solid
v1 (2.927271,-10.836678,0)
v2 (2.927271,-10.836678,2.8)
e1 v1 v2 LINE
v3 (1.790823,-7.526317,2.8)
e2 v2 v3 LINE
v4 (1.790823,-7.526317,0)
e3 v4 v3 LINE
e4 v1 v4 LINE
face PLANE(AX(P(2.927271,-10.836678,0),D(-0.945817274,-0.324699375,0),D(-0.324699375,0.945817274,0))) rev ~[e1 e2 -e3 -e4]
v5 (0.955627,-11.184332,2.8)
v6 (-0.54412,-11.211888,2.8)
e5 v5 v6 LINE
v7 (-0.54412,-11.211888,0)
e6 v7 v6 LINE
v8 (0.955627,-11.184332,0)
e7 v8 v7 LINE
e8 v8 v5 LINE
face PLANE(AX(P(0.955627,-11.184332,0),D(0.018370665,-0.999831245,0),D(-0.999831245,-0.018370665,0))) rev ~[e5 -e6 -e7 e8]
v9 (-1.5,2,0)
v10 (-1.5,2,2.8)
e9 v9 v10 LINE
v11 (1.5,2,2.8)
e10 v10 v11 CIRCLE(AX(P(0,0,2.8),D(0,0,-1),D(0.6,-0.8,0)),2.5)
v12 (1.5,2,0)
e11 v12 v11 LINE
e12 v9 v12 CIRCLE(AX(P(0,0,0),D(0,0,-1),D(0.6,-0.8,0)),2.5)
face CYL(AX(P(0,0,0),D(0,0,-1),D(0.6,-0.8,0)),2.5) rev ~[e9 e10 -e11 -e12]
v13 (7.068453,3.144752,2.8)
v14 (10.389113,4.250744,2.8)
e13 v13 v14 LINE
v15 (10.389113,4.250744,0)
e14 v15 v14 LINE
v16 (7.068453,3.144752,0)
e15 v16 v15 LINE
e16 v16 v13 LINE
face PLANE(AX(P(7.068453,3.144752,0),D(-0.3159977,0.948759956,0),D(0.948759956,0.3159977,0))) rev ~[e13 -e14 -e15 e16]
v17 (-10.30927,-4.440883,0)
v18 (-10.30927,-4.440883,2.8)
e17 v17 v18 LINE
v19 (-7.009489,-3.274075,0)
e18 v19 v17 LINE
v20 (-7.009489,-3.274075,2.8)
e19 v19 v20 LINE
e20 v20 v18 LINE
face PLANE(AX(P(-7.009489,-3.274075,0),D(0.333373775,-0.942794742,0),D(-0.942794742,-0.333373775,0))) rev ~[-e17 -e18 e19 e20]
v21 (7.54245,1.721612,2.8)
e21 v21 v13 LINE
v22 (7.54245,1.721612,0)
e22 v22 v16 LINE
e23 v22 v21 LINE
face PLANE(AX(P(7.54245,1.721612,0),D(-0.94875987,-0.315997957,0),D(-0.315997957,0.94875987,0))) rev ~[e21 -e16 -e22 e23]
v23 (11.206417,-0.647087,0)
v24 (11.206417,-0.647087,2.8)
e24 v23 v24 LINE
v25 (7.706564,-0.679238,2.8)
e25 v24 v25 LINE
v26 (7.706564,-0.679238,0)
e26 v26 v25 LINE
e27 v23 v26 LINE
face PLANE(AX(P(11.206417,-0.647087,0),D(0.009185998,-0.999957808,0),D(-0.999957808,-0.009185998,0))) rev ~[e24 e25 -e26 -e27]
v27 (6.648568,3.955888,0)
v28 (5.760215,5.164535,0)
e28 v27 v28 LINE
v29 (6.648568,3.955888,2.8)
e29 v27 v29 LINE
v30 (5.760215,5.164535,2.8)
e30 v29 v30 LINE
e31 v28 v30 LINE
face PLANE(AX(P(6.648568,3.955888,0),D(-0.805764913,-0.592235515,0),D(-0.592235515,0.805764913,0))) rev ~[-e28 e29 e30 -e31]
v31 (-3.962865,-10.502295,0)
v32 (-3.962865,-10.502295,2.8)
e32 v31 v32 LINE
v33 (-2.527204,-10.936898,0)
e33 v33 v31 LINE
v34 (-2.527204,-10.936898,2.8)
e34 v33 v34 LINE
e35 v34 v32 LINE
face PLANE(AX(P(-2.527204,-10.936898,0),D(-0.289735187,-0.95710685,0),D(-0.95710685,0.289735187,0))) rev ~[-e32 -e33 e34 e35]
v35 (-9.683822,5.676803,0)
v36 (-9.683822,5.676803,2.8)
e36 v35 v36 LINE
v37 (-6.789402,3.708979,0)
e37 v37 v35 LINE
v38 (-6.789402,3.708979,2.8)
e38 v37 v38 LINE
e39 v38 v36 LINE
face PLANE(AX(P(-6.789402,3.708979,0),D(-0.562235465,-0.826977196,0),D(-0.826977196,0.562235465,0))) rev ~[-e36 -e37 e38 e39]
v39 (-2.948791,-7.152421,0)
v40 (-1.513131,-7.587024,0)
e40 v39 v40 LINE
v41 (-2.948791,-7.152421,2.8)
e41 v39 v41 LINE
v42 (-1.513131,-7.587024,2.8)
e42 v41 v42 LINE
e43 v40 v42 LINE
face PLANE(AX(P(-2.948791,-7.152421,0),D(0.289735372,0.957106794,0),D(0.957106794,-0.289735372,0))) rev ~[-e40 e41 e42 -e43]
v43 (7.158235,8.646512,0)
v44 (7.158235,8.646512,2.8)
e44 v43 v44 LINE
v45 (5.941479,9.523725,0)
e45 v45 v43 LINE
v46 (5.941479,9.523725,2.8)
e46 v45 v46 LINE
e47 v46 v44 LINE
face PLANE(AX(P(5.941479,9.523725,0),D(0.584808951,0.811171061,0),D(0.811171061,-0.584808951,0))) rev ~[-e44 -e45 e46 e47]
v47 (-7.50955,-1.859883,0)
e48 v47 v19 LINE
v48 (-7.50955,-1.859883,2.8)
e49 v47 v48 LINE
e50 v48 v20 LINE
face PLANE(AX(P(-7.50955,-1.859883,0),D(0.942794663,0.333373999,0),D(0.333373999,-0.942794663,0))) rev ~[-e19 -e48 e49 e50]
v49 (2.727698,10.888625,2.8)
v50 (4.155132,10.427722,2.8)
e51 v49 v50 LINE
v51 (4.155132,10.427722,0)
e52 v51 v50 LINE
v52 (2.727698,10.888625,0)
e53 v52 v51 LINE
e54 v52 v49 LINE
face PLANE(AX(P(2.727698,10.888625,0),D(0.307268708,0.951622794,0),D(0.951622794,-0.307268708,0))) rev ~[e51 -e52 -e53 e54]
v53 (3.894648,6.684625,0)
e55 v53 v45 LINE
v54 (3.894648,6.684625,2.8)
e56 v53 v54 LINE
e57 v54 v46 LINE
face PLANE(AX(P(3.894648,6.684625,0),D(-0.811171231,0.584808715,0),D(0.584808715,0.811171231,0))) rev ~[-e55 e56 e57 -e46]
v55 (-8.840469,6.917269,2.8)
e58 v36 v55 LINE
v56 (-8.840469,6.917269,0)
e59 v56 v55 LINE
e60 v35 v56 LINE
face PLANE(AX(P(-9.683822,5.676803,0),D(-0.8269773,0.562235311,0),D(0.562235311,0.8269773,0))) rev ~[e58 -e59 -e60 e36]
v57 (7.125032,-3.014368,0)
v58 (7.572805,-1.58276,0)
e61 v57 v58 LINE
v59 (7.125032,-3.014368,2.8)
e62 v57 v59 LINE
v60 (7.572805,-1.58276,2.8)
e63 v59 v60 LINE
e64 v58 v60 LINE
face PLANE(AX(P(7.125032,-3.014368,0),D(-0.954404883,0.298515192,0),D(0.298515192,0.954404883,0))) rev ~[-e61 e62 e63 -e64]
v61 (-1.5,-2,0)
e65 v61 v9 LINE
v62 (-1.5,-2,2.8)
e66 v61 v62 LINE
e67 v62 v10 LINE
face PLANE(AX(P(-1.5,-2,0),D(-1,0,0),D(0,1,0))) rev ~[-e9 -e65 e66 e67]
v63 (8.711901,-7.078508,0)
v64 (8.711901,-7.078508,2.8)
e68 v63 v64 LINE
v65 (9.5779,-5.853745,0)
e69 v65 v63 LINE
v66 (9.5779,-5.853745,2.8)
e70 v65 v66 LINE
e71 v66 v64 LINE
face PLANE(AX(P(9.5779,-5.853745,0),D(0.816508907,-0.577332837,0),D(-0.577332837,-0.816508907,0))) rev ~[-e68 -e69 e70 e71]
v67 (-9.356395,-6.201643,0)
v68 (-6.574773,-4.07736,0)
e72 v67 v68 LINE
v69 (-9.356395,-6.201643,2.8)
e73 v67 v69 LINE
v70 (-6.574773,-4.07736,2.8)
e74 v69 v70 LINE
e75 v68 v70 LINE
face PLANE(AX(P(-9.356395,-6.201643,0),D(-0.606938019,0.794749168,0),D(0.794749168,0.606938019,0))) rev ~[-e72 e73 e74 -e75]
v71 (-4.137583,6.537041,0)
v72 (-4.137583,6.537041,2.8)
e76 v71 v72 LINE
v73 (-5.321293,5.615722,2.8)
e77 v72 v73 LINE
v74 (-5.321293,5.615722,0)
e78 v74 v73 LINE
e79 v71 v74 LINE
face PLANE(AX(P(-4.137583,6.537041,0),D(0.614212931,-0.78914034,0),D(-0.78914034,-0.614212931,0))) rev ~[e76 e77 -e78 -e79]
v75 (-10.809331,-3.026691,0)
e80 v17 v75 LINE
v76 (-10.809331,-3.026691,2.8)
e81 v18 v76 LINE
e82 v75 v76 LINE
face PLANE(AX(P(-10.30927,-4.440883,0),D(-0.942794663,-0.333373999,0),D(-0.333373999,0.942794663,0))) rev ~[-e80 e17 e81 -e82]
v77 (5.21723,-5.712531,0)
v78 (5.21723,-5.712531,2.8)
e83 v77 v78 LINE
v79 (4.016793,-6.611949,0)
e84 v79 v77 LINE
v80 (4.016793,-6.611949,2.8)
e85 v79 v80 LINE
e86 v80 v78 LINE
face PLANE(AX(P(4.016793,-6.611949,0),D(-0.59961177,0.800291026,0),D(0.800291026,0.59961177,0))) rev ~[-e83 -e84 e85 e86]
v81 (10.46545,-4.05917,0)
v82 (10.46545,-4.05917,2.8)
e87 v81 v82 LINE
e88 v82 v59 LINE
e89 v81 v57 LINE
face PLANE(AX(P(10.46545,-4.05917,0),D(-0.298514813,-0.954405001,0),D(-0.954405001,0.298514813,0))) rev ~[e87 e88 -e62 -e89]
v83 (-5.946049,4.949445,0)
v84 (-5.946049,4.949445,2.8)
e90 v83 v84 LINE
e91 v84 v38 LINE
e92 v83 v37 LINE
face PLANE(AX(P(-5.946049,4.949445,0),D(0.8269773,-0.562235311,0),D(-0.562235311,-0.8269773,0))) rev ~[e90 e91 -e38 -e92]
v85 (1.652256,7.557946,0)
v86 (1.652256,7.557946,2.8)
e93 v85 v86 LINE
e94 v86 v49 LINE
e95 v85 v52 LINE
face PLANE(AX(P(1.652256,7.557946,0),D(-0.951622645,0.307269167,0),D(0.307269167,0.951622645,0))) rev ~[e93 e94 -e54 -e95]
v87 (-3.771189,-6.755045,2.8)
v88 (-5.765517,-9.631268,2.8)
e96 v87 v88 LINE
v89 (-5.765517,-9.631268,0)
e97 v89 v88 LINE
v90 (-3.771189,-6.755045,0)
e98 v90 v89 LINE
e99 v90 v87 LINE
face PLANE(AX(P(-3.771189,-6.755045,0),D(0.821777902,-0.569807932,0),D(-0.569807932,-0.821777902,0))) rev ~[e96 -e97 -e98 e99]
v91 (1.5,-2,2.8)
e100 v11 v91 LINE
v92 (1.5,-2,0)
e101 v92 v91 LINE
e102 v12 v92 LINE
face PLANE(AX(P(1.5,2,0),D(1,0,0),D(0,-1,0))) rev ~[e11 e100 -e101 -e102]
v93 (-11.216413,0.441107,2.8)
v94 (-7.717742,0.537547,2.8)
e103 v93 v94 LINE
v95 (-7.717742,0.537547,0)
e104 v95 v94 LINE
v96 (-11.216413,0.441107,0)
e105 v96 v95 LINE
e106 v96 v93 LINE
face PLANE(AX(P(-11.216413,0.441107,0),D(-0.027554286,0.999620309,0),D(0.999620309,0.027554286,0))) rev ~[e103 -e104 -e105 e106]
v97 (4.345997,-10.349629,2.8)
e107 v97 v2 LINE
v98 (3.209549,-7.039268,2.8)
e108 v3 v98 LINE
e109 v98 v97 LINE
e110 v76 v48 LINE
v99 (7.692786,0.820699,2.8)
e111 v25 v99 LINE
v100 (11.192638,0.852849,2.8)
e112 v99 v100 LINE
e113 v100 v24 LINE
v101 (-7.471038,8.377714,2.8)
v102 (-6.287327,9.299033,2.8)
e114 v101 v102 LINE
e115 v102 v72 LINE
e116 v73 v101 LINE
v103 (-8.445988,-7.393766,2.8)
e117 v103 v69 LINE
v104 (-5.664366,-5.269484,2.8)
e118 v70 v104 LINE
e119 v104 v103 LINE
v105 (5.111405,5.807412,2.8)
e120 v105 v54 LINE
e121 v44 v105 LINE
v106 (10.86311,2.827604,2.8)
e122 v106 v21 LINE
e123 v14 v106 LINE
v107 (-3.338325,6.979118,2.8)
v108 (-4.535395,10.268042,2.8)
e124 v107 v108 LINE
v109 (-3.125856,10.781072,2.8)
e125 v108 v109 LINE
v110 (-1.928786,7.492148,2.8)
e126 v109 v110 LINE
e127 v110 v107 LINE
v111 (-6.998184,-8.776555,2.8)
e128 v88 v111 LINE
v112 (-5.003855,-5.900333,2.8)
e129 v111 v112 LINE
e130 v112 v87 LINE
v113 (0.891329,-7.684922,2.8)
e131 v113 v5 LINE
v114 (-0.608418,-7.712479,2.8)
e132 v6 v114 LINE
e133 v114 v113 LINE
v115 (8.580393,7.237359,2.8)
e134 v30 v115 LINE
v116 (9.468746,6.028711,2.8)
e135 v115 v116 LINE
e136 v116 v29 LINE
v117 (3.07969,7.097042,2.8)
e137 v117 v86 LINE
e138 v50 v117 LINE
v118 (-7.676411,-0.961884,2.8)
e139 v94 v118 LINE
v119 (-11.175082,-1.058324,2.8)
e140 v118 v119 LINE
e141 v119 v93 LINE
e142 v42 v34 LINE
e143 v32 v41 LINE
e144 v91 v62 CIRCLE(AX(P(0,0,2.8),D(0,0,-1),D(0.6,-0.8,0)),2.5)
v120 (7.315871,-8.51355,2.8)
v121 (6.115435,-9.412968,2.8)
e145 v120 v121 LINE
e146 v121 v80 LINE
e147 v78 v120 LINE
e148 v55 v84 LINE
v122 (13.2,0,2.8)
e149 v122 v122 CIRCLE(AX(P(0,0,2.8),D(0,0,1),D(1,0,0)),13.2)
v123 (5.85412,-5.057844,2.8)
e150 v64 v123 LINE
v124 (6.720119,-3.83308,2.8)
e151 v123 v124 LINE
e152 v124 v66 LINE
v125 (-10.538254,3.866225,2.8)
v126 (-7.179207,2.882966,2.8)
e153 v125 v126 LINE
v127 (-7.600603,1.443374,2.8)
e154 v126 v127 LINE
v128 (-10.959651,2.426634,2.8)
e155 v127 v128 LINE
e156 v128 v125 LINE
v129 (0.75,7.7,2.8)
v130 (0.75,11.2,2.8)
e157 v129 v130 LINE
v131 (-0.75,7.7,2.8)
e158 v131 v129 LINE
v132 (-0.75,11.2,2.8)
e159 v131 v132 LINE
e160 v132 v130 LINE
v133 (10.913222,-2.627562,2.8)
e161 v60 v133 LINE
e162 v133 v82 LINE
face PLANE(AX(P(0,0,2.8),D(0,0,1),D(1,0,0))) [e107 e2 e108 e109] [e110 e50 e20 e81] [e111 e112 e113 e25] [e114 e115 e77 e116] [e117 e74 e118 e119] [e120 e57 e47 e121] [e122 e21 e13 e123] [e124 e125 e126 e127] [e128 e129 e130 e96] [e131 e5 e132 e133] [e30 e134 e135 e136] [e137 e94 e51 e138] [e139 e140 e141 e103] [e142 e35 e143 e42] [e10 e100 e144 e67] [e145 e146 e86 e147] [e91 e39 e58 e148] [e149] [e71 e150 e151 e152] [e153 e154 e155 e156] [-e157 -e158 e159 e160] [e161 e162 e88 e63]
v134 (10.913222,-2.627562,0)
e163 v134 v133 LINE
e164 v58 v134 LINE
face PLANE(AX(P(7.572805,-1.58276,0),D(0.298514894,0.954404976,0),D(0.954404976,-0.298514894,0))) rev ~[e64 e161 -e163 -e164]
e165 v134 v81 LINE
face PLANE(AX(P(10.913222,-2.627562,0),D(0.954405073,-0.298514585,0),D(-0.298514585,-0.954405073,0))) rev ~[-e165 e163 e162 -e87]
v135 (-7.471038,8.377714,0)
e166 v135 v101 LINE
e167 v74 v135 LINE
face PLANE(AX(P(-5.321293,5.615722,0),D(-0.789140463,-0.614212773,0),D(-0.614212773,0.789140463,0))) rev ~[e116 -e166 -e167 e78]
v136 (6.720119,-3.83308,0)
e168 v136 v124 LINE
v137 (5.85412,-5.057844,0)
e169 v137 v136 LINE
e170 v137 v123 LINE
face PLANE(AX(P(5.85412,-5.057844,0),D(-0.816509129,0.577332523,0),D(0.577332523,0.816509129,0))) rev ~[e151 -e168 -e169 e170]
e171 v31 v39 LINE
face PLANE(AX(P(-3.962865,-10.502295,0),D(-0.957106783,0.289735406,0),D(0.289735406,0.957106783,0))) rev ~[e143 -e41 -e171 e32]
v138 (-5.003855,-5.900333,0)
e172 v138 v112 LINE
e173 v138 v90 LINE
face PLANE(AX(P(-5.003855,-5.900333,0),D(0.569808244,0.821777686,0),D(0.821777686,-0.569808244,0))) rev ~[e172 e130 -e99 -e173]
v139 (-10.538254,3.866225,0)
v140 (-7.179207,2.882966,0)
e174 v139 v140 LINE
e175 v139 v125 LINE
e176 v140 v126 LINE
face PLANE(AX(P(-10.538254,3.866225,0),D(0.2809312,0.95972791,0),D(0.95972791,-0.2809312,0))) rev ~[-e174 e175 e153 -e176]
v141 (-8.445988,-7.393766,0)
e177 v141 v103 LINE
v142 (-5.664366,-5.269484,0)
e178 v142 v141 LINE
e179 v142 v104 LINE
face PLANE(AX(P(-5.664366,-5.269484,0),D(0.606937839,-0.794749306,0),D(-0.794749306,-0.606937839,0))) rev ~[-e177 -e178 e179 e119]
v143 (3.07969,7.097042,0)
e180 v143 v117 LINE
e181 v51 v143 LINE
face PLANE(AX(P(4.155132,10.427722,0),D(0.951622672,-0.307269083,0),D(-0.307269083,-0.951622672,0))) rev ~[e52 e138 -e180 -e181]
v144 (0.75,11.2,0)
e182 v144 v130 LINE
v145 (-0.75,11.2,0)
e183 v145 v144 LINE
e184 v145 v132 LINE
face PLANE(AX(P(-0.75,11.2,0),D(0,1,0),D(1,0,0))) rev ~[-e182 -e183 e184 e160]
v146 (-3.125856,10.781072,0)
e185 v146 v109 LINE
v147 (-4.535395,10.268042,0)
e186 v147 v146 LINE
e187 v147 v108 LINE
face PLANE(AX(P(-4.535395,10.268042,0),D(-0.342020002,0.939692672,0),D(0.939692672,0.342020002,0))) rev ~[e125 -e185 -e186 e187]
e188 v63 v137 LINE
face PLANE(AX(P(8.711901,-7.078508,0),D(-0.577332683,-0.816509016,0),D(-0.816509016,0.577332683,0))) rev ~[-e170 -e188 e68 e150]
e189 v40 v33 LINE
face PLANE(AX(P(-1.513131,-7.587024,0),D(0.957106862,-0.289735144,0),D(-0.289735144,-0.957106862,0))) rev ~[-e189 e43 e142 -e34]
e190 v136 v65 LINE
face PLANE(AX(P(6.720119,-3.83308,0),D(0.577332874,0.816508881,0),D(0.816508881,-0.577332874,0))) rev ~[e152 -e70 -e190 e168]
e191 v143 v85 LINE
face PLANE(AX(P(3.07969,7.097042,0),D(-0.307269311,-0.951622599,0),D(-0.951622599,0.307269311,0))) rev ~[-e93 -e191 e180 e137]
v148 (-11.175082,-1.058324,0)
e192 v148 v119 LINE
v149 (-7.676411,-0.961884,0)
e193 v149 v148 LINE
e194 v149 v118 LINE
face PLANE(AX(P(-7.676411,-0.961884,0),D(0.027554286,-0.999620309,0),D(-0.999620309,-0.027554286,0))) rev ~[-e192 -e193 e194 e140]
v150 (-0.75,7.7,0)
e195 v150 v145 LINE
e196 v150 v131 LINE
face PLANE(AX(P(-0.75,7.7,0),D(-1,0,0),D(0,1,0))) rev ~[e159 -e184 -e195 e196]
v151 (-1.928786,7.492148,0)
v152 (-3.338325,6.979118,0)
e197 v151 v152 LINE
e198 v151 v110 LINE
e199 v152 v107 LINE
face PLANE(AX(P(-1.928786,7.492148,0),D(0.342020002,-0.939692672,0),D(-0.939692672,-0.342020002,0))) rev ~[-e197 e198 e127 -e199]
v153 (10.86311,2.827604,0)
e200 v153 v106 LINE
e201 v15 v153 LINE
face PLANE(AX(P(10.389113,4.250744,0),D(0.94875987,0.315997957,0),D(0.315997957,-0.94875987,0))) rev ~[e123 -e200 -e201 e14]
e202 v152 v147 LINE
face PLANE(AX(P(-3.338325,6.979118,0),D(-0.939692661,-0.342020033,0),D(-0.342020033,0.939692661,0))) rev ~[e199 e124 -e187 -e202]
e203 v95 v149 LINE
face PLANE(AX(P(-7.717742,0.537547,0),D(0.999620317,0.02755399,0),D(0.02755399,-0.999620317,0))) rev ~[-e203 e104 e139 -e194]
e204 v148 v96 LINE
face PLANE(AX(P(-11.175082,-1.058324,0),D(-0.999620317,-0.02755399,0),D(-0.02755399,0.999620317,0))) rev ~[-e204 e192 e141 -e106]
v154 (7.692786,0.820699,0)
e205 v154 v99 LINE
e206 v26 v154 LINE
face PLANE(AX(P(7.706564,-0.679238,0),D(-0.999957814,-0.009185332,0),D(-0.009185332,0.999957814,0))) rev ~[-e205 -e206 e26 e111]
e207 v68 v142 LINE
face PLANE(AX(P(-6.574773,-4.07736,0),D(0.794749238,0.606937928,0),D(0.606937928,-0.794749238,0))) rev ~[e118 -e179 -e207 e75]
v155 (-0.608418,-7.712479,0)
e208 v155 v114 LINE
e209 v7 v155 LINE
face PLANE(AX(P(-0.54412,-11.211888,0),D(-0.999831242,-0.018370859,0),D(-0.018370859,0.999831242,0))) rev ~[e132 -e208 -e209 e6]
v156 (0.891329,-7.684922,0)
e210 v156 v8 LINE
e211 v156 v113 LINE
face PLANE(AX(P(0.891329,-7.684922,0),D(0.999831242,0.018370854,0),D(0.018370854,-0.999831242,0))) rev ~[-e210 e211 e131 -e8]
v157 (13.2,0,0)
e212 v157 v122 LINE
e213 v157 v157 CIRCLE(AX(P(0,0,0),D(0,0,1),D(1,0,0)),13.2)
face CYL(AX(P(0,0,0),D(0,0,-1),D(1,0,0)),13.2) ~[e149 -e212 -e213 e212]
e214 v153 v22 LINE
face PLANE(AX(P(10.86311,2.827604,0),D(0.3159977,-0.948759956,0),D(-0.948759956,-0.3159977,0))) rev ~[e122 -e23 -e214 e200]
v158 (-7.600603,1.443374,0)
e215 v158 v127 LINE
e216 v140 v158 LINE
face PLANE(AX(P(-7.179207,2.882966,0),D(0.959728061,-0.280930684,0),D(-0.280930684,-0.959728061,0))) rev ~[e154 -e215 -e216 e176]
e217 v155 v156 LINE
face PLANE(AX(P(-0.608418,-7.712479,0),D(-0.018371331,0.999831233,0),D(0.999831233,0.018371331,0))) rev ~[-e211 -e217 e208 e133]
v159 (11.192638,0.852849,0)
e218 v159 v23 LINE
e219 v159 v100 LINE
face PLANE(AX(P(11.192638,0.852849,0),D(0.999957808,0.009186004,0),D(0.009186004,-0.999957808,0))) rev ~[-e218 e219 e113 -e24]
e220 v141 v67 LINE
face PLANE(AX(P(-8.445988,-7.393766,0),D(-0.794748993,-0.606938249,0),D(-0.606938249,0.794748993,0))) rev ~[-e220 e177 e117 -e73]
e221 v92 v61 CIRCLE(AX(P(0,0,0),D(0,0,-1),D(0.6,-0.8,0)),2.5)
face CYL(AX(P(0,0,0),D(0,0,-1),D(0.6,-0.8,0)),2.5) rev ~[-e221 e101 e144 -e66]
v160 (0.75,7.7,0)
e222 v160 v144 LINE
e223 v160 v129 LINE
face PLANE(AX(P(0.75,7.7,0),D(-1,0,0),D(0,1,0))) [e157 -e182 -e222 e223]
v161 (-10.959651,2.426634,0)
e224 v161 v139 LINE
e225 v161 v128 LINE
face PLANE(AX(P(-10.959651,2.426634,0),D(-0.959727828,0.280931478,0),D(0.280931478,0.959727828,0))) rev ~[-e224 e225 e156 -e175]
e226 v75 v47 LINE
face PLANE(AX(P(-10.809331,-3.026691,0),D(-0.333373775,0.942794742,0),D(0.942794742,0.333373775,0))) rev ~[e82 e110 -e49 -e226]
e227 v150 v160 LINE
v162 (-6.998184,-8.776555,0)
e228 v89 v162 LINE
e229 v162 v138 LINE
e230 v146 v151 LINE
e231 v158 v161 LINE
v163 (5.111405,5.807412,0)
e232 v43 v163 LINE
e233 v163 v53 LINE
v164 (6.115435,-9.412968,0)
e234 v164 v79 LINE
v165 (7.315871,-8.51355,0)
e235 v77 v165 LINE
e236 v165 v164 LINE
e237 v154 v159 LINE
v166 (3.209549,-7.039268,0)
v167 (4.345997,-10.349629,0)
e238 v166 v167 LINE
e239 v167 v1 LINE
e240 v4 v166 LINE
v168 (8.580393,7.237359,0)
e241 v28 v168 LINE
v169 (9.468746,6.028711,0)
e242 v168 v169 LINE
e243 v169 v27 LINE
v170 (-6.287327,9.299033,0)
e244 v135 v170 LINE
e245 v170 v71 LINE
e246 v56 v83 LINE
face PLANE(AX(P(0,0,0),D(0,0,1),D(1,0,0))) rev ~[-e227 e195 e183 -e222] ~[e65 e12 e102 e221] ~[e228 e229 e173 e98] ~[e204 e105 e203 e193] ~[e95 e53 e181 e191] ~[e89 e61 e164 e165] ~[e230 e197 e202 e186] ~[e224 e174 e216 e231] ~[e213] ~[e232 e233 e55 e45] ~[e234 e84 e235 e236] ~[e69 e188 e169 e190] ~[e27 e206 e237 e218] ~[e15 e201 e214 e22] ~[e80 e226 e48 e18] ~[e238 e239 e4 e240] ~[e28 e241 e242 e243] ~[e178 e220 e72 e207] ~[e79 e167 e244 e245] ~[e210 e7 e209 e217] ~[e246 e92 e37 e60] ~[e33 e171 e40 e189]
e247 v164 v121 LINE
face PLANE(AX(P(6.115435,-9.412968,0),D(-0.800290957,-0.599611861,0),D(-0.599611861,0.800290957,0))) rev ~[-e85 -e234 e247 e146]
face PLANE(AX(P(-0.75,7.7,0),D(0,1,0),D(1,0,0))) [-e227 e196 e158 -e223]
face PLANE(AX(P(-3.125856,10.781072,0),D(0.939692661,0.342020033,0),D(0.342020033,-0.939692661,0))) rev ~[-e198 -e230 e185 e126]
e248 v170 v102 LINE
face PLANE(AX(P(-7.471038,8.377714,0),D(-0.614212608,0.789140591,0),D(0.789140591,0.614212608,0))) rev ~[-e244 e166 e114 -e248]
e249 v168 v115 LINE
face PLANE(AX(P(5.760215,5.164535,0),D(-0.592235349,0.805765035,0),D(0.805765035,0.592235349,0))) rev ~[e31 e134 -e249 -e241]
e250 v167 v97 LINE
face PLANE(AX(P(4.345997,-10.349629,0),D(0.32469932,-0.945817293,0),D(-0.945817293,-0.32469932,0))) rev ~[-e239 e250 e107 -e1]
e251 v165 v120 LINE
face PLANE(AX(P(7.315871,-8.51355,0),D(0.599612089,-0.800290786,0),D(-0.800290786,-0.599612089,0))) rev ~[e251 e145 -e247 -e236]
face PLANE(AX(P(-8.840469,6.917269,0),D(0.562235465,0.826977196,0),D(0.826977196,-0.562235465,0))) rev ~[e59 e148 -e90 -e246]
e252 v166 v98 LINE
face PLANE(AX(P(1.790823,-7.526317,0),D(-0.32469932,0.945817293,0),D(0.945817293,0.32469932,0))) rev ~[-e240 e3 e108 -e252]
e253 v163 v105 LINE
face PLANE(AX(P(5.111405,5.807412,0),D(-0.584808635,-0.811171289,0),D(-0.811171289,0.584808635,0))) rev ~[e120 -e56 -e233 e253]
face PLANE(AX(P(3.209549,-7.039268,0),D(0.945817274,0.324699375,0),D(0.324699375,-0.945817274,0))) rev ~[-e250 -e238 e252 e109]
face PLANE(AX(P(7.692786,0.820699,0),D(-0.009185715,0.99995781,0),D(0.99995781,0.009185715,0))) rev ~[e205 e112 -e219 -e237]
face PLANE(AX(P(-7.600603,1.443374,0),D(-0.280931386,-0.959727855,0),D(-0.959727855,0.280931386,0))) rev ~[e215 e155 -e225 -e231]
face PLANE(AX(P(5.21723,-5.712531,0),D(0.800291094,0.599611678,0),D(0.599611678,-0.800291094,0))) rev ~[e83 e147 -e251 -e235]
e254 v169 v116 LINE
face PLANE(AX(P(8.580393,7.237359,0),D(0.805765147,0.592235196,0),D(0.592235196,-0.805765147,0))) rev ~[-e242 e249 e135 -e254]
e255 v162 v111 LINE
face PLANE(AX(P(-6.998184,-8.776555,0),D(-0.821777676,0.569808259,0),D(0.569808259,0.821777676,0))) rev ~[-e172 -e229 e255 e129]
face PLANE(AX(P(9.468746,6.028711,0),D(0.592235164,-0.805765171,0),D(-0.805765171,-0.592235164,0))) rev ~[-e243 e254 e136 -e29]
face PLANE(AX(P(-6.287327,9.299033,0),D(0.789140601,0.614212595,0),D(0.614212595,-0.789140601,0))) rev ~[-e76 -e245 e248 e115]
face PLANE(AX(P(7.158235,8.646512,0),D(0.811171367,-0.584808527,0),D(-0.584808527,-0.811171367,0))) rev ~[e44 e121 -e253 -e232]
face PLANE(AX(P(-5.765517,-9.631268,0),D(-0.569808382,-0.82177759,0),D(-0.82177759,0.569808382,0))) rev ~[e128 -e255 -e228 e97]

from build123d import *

# Parameters (mm, degrees)
F0_R     = 13.2
F0_W     = 1.5
F0_H     = 3.5
F1_DEPTH = 2.8


with BuildPart() as f1:
    # F0 (on Top) → F1 (new body)
    with BuildSketch(Plane.XY):
        Circle(F0_R)
        Polygon((-5.765517, -9.631268), (-6.998184, -8.776555), (-5.003855, -5.900333), (-3.771189, -6.755045), align=None, mode=Mode.SUBTRACT)
        Polygon((-2.527204, -10.936898), (-3.962865, -10.502295), (-2.948791, -7.152421), (-1.513131, -7.587024), align=None, mode=Mode.SUBTRACT)
        Polygon((-8.445988, -7.393766), (-9.356395, -6.201643), (-6.574773, -4.07736), (-5.664366, -5.269484), align=None, mode=Mode.SUBTRACT)
        Polygon((-10.30927, -4.440883), (-10.809331, -3.026691), (-7.50955, -1.859883), (-7.009489, -3.274075), align=None, mode=Mode.SUBTRACT)
        Polygon((-11.175082, -1.058324), (-11.216413, 0.441107), (-7.717742, 0.537547), (-7.676411, -0.961884), align=None, mode=Mode.SUBTRACT)
        Polygon((0.955627, -11.184332), (-0.54412, -11.211888), (-0.608418, -7.712479), (0.891329, -7.684922), align=None, mode=Mode.SUBTRACT)
        Polygon((4.345997, -10.349629), (2.927271, -10.836678), (1.790823, -7.526317), (3.209549, -7.039268), align=None, mode=Mode.SUBTRACT)
        Polygon((7.315871, -8.51355), (6.115435, -9.412968), (4.016793, -6.611949), (5.21723, -5.712531), align=None, mode=Mode.SUBTRACT)
        Polygon((9.5779, -5.853745), (8.711901, -7.078508), (5.85412, -5.057844), (6.720119, -3.83308), align=None, mode=Mode.SUBTRACT)
        Polygon((10.913222, -2.627562), (10.46545, -4.05917), (7.125032, -3.014368), (7.572805, -1.58276), align=None, mode=Mode.SUBTRACT)
        Polygon((-10.959651, 2.426634), (-10.538254, 3.866225), (-7.179207, 2.882966), (-7.600603, 1.443374), align=None, mode=Mode.SUBTRACT)
        Polygon((-9.683822, 5.676803), (-8.840469, 6.917269), (-5.946049, 4.949445), (-6.789402, 3.708979), align=None, mode=Mode.SUBTRACT)
        Polygon((-7.471038, 8.377714), (-6.287327, 9.299033), (-4.137583, 6.537041), (-5.321293, 5.615722), align=None, mode=Mode.SUBTRACT)
        Polygon((-4.535395, 10.268042), (-3.125856, 10.781072), (-1.928786, 7.492148), (-3.338325, 6.979118), align=None, mode=Mode.SUBTRACT)
        with BuildLine():
            ThreePointArc((1.5, 2), (2.236068, 1.118034), (2.5, 0))
            ThreePointArc((2.5, 0), (2.236068, -1.118034), (1.5, -2))
            ThreePointArc((1.5, -2), (0, -2.5), (-1.5, -2))
            ThreePointArc((-1.5, -2), (-2.5, 0), (-1.5, 2))
            ThreePointArc((-1.5, 2), (0, 2.5), (1.5, 2))
        make_face(mode=Mode.SUBTRACT)
        Polygon((11.192638, 0.852849), (11.206417, -0.647087), (7.706564, -0.679238), (7.692786, 0.820699), align=None, mode=Mode.SUBTRACT)
        Polygon((10.389113, 4.250744), (10.86311, 2.827604), (7.54245, 1.721612), (7.068453, 3.144752), align=None, mode=Mode.SUBTRACT)
        Polygon((8.580393, 7.237359), (9.468746, 6.028711), (6.648568, 3.955888), (5.760215, 5.164535), align=None, mode=Mode.SUBTRACT)
        with Locations((0, 9.45)):
            Rectangle(F0_W, F0_H, mode=Mode.SUBTRACT)
        Polygon((2.727698, 10.888625), (4.155132, 10.427722), (3.07969, 7.097042), (1.652256, 7.557946), align=None, mode=Mode.SUBTRACT)
        Polygon((5.941479, 9.523725), (7.158235, 8.646512), (5.111405, 5.807412), (3.894648, 6.684625), align=None, mode=Mode.SUBTRACT)
        with BuildLine():
            Line((-1.5, -2), (-1.5, 2))
            ThreePointArc((-1.5, 2), (-2.5, 0), (-1.5, -2))
        make_face()
        with BuildLine():
            ThreePointArc((1.5, -2), (2.236068, -1.118034), (2.5, 0))
            ThreePointArc((2.5, 0), (2.236068, 1.118034), (1.5, 2))
            Line((1.5, 2), (1.5, -2))
        make_face()
    extrude(amount=F1_DEPTH)


solid = f1.part
